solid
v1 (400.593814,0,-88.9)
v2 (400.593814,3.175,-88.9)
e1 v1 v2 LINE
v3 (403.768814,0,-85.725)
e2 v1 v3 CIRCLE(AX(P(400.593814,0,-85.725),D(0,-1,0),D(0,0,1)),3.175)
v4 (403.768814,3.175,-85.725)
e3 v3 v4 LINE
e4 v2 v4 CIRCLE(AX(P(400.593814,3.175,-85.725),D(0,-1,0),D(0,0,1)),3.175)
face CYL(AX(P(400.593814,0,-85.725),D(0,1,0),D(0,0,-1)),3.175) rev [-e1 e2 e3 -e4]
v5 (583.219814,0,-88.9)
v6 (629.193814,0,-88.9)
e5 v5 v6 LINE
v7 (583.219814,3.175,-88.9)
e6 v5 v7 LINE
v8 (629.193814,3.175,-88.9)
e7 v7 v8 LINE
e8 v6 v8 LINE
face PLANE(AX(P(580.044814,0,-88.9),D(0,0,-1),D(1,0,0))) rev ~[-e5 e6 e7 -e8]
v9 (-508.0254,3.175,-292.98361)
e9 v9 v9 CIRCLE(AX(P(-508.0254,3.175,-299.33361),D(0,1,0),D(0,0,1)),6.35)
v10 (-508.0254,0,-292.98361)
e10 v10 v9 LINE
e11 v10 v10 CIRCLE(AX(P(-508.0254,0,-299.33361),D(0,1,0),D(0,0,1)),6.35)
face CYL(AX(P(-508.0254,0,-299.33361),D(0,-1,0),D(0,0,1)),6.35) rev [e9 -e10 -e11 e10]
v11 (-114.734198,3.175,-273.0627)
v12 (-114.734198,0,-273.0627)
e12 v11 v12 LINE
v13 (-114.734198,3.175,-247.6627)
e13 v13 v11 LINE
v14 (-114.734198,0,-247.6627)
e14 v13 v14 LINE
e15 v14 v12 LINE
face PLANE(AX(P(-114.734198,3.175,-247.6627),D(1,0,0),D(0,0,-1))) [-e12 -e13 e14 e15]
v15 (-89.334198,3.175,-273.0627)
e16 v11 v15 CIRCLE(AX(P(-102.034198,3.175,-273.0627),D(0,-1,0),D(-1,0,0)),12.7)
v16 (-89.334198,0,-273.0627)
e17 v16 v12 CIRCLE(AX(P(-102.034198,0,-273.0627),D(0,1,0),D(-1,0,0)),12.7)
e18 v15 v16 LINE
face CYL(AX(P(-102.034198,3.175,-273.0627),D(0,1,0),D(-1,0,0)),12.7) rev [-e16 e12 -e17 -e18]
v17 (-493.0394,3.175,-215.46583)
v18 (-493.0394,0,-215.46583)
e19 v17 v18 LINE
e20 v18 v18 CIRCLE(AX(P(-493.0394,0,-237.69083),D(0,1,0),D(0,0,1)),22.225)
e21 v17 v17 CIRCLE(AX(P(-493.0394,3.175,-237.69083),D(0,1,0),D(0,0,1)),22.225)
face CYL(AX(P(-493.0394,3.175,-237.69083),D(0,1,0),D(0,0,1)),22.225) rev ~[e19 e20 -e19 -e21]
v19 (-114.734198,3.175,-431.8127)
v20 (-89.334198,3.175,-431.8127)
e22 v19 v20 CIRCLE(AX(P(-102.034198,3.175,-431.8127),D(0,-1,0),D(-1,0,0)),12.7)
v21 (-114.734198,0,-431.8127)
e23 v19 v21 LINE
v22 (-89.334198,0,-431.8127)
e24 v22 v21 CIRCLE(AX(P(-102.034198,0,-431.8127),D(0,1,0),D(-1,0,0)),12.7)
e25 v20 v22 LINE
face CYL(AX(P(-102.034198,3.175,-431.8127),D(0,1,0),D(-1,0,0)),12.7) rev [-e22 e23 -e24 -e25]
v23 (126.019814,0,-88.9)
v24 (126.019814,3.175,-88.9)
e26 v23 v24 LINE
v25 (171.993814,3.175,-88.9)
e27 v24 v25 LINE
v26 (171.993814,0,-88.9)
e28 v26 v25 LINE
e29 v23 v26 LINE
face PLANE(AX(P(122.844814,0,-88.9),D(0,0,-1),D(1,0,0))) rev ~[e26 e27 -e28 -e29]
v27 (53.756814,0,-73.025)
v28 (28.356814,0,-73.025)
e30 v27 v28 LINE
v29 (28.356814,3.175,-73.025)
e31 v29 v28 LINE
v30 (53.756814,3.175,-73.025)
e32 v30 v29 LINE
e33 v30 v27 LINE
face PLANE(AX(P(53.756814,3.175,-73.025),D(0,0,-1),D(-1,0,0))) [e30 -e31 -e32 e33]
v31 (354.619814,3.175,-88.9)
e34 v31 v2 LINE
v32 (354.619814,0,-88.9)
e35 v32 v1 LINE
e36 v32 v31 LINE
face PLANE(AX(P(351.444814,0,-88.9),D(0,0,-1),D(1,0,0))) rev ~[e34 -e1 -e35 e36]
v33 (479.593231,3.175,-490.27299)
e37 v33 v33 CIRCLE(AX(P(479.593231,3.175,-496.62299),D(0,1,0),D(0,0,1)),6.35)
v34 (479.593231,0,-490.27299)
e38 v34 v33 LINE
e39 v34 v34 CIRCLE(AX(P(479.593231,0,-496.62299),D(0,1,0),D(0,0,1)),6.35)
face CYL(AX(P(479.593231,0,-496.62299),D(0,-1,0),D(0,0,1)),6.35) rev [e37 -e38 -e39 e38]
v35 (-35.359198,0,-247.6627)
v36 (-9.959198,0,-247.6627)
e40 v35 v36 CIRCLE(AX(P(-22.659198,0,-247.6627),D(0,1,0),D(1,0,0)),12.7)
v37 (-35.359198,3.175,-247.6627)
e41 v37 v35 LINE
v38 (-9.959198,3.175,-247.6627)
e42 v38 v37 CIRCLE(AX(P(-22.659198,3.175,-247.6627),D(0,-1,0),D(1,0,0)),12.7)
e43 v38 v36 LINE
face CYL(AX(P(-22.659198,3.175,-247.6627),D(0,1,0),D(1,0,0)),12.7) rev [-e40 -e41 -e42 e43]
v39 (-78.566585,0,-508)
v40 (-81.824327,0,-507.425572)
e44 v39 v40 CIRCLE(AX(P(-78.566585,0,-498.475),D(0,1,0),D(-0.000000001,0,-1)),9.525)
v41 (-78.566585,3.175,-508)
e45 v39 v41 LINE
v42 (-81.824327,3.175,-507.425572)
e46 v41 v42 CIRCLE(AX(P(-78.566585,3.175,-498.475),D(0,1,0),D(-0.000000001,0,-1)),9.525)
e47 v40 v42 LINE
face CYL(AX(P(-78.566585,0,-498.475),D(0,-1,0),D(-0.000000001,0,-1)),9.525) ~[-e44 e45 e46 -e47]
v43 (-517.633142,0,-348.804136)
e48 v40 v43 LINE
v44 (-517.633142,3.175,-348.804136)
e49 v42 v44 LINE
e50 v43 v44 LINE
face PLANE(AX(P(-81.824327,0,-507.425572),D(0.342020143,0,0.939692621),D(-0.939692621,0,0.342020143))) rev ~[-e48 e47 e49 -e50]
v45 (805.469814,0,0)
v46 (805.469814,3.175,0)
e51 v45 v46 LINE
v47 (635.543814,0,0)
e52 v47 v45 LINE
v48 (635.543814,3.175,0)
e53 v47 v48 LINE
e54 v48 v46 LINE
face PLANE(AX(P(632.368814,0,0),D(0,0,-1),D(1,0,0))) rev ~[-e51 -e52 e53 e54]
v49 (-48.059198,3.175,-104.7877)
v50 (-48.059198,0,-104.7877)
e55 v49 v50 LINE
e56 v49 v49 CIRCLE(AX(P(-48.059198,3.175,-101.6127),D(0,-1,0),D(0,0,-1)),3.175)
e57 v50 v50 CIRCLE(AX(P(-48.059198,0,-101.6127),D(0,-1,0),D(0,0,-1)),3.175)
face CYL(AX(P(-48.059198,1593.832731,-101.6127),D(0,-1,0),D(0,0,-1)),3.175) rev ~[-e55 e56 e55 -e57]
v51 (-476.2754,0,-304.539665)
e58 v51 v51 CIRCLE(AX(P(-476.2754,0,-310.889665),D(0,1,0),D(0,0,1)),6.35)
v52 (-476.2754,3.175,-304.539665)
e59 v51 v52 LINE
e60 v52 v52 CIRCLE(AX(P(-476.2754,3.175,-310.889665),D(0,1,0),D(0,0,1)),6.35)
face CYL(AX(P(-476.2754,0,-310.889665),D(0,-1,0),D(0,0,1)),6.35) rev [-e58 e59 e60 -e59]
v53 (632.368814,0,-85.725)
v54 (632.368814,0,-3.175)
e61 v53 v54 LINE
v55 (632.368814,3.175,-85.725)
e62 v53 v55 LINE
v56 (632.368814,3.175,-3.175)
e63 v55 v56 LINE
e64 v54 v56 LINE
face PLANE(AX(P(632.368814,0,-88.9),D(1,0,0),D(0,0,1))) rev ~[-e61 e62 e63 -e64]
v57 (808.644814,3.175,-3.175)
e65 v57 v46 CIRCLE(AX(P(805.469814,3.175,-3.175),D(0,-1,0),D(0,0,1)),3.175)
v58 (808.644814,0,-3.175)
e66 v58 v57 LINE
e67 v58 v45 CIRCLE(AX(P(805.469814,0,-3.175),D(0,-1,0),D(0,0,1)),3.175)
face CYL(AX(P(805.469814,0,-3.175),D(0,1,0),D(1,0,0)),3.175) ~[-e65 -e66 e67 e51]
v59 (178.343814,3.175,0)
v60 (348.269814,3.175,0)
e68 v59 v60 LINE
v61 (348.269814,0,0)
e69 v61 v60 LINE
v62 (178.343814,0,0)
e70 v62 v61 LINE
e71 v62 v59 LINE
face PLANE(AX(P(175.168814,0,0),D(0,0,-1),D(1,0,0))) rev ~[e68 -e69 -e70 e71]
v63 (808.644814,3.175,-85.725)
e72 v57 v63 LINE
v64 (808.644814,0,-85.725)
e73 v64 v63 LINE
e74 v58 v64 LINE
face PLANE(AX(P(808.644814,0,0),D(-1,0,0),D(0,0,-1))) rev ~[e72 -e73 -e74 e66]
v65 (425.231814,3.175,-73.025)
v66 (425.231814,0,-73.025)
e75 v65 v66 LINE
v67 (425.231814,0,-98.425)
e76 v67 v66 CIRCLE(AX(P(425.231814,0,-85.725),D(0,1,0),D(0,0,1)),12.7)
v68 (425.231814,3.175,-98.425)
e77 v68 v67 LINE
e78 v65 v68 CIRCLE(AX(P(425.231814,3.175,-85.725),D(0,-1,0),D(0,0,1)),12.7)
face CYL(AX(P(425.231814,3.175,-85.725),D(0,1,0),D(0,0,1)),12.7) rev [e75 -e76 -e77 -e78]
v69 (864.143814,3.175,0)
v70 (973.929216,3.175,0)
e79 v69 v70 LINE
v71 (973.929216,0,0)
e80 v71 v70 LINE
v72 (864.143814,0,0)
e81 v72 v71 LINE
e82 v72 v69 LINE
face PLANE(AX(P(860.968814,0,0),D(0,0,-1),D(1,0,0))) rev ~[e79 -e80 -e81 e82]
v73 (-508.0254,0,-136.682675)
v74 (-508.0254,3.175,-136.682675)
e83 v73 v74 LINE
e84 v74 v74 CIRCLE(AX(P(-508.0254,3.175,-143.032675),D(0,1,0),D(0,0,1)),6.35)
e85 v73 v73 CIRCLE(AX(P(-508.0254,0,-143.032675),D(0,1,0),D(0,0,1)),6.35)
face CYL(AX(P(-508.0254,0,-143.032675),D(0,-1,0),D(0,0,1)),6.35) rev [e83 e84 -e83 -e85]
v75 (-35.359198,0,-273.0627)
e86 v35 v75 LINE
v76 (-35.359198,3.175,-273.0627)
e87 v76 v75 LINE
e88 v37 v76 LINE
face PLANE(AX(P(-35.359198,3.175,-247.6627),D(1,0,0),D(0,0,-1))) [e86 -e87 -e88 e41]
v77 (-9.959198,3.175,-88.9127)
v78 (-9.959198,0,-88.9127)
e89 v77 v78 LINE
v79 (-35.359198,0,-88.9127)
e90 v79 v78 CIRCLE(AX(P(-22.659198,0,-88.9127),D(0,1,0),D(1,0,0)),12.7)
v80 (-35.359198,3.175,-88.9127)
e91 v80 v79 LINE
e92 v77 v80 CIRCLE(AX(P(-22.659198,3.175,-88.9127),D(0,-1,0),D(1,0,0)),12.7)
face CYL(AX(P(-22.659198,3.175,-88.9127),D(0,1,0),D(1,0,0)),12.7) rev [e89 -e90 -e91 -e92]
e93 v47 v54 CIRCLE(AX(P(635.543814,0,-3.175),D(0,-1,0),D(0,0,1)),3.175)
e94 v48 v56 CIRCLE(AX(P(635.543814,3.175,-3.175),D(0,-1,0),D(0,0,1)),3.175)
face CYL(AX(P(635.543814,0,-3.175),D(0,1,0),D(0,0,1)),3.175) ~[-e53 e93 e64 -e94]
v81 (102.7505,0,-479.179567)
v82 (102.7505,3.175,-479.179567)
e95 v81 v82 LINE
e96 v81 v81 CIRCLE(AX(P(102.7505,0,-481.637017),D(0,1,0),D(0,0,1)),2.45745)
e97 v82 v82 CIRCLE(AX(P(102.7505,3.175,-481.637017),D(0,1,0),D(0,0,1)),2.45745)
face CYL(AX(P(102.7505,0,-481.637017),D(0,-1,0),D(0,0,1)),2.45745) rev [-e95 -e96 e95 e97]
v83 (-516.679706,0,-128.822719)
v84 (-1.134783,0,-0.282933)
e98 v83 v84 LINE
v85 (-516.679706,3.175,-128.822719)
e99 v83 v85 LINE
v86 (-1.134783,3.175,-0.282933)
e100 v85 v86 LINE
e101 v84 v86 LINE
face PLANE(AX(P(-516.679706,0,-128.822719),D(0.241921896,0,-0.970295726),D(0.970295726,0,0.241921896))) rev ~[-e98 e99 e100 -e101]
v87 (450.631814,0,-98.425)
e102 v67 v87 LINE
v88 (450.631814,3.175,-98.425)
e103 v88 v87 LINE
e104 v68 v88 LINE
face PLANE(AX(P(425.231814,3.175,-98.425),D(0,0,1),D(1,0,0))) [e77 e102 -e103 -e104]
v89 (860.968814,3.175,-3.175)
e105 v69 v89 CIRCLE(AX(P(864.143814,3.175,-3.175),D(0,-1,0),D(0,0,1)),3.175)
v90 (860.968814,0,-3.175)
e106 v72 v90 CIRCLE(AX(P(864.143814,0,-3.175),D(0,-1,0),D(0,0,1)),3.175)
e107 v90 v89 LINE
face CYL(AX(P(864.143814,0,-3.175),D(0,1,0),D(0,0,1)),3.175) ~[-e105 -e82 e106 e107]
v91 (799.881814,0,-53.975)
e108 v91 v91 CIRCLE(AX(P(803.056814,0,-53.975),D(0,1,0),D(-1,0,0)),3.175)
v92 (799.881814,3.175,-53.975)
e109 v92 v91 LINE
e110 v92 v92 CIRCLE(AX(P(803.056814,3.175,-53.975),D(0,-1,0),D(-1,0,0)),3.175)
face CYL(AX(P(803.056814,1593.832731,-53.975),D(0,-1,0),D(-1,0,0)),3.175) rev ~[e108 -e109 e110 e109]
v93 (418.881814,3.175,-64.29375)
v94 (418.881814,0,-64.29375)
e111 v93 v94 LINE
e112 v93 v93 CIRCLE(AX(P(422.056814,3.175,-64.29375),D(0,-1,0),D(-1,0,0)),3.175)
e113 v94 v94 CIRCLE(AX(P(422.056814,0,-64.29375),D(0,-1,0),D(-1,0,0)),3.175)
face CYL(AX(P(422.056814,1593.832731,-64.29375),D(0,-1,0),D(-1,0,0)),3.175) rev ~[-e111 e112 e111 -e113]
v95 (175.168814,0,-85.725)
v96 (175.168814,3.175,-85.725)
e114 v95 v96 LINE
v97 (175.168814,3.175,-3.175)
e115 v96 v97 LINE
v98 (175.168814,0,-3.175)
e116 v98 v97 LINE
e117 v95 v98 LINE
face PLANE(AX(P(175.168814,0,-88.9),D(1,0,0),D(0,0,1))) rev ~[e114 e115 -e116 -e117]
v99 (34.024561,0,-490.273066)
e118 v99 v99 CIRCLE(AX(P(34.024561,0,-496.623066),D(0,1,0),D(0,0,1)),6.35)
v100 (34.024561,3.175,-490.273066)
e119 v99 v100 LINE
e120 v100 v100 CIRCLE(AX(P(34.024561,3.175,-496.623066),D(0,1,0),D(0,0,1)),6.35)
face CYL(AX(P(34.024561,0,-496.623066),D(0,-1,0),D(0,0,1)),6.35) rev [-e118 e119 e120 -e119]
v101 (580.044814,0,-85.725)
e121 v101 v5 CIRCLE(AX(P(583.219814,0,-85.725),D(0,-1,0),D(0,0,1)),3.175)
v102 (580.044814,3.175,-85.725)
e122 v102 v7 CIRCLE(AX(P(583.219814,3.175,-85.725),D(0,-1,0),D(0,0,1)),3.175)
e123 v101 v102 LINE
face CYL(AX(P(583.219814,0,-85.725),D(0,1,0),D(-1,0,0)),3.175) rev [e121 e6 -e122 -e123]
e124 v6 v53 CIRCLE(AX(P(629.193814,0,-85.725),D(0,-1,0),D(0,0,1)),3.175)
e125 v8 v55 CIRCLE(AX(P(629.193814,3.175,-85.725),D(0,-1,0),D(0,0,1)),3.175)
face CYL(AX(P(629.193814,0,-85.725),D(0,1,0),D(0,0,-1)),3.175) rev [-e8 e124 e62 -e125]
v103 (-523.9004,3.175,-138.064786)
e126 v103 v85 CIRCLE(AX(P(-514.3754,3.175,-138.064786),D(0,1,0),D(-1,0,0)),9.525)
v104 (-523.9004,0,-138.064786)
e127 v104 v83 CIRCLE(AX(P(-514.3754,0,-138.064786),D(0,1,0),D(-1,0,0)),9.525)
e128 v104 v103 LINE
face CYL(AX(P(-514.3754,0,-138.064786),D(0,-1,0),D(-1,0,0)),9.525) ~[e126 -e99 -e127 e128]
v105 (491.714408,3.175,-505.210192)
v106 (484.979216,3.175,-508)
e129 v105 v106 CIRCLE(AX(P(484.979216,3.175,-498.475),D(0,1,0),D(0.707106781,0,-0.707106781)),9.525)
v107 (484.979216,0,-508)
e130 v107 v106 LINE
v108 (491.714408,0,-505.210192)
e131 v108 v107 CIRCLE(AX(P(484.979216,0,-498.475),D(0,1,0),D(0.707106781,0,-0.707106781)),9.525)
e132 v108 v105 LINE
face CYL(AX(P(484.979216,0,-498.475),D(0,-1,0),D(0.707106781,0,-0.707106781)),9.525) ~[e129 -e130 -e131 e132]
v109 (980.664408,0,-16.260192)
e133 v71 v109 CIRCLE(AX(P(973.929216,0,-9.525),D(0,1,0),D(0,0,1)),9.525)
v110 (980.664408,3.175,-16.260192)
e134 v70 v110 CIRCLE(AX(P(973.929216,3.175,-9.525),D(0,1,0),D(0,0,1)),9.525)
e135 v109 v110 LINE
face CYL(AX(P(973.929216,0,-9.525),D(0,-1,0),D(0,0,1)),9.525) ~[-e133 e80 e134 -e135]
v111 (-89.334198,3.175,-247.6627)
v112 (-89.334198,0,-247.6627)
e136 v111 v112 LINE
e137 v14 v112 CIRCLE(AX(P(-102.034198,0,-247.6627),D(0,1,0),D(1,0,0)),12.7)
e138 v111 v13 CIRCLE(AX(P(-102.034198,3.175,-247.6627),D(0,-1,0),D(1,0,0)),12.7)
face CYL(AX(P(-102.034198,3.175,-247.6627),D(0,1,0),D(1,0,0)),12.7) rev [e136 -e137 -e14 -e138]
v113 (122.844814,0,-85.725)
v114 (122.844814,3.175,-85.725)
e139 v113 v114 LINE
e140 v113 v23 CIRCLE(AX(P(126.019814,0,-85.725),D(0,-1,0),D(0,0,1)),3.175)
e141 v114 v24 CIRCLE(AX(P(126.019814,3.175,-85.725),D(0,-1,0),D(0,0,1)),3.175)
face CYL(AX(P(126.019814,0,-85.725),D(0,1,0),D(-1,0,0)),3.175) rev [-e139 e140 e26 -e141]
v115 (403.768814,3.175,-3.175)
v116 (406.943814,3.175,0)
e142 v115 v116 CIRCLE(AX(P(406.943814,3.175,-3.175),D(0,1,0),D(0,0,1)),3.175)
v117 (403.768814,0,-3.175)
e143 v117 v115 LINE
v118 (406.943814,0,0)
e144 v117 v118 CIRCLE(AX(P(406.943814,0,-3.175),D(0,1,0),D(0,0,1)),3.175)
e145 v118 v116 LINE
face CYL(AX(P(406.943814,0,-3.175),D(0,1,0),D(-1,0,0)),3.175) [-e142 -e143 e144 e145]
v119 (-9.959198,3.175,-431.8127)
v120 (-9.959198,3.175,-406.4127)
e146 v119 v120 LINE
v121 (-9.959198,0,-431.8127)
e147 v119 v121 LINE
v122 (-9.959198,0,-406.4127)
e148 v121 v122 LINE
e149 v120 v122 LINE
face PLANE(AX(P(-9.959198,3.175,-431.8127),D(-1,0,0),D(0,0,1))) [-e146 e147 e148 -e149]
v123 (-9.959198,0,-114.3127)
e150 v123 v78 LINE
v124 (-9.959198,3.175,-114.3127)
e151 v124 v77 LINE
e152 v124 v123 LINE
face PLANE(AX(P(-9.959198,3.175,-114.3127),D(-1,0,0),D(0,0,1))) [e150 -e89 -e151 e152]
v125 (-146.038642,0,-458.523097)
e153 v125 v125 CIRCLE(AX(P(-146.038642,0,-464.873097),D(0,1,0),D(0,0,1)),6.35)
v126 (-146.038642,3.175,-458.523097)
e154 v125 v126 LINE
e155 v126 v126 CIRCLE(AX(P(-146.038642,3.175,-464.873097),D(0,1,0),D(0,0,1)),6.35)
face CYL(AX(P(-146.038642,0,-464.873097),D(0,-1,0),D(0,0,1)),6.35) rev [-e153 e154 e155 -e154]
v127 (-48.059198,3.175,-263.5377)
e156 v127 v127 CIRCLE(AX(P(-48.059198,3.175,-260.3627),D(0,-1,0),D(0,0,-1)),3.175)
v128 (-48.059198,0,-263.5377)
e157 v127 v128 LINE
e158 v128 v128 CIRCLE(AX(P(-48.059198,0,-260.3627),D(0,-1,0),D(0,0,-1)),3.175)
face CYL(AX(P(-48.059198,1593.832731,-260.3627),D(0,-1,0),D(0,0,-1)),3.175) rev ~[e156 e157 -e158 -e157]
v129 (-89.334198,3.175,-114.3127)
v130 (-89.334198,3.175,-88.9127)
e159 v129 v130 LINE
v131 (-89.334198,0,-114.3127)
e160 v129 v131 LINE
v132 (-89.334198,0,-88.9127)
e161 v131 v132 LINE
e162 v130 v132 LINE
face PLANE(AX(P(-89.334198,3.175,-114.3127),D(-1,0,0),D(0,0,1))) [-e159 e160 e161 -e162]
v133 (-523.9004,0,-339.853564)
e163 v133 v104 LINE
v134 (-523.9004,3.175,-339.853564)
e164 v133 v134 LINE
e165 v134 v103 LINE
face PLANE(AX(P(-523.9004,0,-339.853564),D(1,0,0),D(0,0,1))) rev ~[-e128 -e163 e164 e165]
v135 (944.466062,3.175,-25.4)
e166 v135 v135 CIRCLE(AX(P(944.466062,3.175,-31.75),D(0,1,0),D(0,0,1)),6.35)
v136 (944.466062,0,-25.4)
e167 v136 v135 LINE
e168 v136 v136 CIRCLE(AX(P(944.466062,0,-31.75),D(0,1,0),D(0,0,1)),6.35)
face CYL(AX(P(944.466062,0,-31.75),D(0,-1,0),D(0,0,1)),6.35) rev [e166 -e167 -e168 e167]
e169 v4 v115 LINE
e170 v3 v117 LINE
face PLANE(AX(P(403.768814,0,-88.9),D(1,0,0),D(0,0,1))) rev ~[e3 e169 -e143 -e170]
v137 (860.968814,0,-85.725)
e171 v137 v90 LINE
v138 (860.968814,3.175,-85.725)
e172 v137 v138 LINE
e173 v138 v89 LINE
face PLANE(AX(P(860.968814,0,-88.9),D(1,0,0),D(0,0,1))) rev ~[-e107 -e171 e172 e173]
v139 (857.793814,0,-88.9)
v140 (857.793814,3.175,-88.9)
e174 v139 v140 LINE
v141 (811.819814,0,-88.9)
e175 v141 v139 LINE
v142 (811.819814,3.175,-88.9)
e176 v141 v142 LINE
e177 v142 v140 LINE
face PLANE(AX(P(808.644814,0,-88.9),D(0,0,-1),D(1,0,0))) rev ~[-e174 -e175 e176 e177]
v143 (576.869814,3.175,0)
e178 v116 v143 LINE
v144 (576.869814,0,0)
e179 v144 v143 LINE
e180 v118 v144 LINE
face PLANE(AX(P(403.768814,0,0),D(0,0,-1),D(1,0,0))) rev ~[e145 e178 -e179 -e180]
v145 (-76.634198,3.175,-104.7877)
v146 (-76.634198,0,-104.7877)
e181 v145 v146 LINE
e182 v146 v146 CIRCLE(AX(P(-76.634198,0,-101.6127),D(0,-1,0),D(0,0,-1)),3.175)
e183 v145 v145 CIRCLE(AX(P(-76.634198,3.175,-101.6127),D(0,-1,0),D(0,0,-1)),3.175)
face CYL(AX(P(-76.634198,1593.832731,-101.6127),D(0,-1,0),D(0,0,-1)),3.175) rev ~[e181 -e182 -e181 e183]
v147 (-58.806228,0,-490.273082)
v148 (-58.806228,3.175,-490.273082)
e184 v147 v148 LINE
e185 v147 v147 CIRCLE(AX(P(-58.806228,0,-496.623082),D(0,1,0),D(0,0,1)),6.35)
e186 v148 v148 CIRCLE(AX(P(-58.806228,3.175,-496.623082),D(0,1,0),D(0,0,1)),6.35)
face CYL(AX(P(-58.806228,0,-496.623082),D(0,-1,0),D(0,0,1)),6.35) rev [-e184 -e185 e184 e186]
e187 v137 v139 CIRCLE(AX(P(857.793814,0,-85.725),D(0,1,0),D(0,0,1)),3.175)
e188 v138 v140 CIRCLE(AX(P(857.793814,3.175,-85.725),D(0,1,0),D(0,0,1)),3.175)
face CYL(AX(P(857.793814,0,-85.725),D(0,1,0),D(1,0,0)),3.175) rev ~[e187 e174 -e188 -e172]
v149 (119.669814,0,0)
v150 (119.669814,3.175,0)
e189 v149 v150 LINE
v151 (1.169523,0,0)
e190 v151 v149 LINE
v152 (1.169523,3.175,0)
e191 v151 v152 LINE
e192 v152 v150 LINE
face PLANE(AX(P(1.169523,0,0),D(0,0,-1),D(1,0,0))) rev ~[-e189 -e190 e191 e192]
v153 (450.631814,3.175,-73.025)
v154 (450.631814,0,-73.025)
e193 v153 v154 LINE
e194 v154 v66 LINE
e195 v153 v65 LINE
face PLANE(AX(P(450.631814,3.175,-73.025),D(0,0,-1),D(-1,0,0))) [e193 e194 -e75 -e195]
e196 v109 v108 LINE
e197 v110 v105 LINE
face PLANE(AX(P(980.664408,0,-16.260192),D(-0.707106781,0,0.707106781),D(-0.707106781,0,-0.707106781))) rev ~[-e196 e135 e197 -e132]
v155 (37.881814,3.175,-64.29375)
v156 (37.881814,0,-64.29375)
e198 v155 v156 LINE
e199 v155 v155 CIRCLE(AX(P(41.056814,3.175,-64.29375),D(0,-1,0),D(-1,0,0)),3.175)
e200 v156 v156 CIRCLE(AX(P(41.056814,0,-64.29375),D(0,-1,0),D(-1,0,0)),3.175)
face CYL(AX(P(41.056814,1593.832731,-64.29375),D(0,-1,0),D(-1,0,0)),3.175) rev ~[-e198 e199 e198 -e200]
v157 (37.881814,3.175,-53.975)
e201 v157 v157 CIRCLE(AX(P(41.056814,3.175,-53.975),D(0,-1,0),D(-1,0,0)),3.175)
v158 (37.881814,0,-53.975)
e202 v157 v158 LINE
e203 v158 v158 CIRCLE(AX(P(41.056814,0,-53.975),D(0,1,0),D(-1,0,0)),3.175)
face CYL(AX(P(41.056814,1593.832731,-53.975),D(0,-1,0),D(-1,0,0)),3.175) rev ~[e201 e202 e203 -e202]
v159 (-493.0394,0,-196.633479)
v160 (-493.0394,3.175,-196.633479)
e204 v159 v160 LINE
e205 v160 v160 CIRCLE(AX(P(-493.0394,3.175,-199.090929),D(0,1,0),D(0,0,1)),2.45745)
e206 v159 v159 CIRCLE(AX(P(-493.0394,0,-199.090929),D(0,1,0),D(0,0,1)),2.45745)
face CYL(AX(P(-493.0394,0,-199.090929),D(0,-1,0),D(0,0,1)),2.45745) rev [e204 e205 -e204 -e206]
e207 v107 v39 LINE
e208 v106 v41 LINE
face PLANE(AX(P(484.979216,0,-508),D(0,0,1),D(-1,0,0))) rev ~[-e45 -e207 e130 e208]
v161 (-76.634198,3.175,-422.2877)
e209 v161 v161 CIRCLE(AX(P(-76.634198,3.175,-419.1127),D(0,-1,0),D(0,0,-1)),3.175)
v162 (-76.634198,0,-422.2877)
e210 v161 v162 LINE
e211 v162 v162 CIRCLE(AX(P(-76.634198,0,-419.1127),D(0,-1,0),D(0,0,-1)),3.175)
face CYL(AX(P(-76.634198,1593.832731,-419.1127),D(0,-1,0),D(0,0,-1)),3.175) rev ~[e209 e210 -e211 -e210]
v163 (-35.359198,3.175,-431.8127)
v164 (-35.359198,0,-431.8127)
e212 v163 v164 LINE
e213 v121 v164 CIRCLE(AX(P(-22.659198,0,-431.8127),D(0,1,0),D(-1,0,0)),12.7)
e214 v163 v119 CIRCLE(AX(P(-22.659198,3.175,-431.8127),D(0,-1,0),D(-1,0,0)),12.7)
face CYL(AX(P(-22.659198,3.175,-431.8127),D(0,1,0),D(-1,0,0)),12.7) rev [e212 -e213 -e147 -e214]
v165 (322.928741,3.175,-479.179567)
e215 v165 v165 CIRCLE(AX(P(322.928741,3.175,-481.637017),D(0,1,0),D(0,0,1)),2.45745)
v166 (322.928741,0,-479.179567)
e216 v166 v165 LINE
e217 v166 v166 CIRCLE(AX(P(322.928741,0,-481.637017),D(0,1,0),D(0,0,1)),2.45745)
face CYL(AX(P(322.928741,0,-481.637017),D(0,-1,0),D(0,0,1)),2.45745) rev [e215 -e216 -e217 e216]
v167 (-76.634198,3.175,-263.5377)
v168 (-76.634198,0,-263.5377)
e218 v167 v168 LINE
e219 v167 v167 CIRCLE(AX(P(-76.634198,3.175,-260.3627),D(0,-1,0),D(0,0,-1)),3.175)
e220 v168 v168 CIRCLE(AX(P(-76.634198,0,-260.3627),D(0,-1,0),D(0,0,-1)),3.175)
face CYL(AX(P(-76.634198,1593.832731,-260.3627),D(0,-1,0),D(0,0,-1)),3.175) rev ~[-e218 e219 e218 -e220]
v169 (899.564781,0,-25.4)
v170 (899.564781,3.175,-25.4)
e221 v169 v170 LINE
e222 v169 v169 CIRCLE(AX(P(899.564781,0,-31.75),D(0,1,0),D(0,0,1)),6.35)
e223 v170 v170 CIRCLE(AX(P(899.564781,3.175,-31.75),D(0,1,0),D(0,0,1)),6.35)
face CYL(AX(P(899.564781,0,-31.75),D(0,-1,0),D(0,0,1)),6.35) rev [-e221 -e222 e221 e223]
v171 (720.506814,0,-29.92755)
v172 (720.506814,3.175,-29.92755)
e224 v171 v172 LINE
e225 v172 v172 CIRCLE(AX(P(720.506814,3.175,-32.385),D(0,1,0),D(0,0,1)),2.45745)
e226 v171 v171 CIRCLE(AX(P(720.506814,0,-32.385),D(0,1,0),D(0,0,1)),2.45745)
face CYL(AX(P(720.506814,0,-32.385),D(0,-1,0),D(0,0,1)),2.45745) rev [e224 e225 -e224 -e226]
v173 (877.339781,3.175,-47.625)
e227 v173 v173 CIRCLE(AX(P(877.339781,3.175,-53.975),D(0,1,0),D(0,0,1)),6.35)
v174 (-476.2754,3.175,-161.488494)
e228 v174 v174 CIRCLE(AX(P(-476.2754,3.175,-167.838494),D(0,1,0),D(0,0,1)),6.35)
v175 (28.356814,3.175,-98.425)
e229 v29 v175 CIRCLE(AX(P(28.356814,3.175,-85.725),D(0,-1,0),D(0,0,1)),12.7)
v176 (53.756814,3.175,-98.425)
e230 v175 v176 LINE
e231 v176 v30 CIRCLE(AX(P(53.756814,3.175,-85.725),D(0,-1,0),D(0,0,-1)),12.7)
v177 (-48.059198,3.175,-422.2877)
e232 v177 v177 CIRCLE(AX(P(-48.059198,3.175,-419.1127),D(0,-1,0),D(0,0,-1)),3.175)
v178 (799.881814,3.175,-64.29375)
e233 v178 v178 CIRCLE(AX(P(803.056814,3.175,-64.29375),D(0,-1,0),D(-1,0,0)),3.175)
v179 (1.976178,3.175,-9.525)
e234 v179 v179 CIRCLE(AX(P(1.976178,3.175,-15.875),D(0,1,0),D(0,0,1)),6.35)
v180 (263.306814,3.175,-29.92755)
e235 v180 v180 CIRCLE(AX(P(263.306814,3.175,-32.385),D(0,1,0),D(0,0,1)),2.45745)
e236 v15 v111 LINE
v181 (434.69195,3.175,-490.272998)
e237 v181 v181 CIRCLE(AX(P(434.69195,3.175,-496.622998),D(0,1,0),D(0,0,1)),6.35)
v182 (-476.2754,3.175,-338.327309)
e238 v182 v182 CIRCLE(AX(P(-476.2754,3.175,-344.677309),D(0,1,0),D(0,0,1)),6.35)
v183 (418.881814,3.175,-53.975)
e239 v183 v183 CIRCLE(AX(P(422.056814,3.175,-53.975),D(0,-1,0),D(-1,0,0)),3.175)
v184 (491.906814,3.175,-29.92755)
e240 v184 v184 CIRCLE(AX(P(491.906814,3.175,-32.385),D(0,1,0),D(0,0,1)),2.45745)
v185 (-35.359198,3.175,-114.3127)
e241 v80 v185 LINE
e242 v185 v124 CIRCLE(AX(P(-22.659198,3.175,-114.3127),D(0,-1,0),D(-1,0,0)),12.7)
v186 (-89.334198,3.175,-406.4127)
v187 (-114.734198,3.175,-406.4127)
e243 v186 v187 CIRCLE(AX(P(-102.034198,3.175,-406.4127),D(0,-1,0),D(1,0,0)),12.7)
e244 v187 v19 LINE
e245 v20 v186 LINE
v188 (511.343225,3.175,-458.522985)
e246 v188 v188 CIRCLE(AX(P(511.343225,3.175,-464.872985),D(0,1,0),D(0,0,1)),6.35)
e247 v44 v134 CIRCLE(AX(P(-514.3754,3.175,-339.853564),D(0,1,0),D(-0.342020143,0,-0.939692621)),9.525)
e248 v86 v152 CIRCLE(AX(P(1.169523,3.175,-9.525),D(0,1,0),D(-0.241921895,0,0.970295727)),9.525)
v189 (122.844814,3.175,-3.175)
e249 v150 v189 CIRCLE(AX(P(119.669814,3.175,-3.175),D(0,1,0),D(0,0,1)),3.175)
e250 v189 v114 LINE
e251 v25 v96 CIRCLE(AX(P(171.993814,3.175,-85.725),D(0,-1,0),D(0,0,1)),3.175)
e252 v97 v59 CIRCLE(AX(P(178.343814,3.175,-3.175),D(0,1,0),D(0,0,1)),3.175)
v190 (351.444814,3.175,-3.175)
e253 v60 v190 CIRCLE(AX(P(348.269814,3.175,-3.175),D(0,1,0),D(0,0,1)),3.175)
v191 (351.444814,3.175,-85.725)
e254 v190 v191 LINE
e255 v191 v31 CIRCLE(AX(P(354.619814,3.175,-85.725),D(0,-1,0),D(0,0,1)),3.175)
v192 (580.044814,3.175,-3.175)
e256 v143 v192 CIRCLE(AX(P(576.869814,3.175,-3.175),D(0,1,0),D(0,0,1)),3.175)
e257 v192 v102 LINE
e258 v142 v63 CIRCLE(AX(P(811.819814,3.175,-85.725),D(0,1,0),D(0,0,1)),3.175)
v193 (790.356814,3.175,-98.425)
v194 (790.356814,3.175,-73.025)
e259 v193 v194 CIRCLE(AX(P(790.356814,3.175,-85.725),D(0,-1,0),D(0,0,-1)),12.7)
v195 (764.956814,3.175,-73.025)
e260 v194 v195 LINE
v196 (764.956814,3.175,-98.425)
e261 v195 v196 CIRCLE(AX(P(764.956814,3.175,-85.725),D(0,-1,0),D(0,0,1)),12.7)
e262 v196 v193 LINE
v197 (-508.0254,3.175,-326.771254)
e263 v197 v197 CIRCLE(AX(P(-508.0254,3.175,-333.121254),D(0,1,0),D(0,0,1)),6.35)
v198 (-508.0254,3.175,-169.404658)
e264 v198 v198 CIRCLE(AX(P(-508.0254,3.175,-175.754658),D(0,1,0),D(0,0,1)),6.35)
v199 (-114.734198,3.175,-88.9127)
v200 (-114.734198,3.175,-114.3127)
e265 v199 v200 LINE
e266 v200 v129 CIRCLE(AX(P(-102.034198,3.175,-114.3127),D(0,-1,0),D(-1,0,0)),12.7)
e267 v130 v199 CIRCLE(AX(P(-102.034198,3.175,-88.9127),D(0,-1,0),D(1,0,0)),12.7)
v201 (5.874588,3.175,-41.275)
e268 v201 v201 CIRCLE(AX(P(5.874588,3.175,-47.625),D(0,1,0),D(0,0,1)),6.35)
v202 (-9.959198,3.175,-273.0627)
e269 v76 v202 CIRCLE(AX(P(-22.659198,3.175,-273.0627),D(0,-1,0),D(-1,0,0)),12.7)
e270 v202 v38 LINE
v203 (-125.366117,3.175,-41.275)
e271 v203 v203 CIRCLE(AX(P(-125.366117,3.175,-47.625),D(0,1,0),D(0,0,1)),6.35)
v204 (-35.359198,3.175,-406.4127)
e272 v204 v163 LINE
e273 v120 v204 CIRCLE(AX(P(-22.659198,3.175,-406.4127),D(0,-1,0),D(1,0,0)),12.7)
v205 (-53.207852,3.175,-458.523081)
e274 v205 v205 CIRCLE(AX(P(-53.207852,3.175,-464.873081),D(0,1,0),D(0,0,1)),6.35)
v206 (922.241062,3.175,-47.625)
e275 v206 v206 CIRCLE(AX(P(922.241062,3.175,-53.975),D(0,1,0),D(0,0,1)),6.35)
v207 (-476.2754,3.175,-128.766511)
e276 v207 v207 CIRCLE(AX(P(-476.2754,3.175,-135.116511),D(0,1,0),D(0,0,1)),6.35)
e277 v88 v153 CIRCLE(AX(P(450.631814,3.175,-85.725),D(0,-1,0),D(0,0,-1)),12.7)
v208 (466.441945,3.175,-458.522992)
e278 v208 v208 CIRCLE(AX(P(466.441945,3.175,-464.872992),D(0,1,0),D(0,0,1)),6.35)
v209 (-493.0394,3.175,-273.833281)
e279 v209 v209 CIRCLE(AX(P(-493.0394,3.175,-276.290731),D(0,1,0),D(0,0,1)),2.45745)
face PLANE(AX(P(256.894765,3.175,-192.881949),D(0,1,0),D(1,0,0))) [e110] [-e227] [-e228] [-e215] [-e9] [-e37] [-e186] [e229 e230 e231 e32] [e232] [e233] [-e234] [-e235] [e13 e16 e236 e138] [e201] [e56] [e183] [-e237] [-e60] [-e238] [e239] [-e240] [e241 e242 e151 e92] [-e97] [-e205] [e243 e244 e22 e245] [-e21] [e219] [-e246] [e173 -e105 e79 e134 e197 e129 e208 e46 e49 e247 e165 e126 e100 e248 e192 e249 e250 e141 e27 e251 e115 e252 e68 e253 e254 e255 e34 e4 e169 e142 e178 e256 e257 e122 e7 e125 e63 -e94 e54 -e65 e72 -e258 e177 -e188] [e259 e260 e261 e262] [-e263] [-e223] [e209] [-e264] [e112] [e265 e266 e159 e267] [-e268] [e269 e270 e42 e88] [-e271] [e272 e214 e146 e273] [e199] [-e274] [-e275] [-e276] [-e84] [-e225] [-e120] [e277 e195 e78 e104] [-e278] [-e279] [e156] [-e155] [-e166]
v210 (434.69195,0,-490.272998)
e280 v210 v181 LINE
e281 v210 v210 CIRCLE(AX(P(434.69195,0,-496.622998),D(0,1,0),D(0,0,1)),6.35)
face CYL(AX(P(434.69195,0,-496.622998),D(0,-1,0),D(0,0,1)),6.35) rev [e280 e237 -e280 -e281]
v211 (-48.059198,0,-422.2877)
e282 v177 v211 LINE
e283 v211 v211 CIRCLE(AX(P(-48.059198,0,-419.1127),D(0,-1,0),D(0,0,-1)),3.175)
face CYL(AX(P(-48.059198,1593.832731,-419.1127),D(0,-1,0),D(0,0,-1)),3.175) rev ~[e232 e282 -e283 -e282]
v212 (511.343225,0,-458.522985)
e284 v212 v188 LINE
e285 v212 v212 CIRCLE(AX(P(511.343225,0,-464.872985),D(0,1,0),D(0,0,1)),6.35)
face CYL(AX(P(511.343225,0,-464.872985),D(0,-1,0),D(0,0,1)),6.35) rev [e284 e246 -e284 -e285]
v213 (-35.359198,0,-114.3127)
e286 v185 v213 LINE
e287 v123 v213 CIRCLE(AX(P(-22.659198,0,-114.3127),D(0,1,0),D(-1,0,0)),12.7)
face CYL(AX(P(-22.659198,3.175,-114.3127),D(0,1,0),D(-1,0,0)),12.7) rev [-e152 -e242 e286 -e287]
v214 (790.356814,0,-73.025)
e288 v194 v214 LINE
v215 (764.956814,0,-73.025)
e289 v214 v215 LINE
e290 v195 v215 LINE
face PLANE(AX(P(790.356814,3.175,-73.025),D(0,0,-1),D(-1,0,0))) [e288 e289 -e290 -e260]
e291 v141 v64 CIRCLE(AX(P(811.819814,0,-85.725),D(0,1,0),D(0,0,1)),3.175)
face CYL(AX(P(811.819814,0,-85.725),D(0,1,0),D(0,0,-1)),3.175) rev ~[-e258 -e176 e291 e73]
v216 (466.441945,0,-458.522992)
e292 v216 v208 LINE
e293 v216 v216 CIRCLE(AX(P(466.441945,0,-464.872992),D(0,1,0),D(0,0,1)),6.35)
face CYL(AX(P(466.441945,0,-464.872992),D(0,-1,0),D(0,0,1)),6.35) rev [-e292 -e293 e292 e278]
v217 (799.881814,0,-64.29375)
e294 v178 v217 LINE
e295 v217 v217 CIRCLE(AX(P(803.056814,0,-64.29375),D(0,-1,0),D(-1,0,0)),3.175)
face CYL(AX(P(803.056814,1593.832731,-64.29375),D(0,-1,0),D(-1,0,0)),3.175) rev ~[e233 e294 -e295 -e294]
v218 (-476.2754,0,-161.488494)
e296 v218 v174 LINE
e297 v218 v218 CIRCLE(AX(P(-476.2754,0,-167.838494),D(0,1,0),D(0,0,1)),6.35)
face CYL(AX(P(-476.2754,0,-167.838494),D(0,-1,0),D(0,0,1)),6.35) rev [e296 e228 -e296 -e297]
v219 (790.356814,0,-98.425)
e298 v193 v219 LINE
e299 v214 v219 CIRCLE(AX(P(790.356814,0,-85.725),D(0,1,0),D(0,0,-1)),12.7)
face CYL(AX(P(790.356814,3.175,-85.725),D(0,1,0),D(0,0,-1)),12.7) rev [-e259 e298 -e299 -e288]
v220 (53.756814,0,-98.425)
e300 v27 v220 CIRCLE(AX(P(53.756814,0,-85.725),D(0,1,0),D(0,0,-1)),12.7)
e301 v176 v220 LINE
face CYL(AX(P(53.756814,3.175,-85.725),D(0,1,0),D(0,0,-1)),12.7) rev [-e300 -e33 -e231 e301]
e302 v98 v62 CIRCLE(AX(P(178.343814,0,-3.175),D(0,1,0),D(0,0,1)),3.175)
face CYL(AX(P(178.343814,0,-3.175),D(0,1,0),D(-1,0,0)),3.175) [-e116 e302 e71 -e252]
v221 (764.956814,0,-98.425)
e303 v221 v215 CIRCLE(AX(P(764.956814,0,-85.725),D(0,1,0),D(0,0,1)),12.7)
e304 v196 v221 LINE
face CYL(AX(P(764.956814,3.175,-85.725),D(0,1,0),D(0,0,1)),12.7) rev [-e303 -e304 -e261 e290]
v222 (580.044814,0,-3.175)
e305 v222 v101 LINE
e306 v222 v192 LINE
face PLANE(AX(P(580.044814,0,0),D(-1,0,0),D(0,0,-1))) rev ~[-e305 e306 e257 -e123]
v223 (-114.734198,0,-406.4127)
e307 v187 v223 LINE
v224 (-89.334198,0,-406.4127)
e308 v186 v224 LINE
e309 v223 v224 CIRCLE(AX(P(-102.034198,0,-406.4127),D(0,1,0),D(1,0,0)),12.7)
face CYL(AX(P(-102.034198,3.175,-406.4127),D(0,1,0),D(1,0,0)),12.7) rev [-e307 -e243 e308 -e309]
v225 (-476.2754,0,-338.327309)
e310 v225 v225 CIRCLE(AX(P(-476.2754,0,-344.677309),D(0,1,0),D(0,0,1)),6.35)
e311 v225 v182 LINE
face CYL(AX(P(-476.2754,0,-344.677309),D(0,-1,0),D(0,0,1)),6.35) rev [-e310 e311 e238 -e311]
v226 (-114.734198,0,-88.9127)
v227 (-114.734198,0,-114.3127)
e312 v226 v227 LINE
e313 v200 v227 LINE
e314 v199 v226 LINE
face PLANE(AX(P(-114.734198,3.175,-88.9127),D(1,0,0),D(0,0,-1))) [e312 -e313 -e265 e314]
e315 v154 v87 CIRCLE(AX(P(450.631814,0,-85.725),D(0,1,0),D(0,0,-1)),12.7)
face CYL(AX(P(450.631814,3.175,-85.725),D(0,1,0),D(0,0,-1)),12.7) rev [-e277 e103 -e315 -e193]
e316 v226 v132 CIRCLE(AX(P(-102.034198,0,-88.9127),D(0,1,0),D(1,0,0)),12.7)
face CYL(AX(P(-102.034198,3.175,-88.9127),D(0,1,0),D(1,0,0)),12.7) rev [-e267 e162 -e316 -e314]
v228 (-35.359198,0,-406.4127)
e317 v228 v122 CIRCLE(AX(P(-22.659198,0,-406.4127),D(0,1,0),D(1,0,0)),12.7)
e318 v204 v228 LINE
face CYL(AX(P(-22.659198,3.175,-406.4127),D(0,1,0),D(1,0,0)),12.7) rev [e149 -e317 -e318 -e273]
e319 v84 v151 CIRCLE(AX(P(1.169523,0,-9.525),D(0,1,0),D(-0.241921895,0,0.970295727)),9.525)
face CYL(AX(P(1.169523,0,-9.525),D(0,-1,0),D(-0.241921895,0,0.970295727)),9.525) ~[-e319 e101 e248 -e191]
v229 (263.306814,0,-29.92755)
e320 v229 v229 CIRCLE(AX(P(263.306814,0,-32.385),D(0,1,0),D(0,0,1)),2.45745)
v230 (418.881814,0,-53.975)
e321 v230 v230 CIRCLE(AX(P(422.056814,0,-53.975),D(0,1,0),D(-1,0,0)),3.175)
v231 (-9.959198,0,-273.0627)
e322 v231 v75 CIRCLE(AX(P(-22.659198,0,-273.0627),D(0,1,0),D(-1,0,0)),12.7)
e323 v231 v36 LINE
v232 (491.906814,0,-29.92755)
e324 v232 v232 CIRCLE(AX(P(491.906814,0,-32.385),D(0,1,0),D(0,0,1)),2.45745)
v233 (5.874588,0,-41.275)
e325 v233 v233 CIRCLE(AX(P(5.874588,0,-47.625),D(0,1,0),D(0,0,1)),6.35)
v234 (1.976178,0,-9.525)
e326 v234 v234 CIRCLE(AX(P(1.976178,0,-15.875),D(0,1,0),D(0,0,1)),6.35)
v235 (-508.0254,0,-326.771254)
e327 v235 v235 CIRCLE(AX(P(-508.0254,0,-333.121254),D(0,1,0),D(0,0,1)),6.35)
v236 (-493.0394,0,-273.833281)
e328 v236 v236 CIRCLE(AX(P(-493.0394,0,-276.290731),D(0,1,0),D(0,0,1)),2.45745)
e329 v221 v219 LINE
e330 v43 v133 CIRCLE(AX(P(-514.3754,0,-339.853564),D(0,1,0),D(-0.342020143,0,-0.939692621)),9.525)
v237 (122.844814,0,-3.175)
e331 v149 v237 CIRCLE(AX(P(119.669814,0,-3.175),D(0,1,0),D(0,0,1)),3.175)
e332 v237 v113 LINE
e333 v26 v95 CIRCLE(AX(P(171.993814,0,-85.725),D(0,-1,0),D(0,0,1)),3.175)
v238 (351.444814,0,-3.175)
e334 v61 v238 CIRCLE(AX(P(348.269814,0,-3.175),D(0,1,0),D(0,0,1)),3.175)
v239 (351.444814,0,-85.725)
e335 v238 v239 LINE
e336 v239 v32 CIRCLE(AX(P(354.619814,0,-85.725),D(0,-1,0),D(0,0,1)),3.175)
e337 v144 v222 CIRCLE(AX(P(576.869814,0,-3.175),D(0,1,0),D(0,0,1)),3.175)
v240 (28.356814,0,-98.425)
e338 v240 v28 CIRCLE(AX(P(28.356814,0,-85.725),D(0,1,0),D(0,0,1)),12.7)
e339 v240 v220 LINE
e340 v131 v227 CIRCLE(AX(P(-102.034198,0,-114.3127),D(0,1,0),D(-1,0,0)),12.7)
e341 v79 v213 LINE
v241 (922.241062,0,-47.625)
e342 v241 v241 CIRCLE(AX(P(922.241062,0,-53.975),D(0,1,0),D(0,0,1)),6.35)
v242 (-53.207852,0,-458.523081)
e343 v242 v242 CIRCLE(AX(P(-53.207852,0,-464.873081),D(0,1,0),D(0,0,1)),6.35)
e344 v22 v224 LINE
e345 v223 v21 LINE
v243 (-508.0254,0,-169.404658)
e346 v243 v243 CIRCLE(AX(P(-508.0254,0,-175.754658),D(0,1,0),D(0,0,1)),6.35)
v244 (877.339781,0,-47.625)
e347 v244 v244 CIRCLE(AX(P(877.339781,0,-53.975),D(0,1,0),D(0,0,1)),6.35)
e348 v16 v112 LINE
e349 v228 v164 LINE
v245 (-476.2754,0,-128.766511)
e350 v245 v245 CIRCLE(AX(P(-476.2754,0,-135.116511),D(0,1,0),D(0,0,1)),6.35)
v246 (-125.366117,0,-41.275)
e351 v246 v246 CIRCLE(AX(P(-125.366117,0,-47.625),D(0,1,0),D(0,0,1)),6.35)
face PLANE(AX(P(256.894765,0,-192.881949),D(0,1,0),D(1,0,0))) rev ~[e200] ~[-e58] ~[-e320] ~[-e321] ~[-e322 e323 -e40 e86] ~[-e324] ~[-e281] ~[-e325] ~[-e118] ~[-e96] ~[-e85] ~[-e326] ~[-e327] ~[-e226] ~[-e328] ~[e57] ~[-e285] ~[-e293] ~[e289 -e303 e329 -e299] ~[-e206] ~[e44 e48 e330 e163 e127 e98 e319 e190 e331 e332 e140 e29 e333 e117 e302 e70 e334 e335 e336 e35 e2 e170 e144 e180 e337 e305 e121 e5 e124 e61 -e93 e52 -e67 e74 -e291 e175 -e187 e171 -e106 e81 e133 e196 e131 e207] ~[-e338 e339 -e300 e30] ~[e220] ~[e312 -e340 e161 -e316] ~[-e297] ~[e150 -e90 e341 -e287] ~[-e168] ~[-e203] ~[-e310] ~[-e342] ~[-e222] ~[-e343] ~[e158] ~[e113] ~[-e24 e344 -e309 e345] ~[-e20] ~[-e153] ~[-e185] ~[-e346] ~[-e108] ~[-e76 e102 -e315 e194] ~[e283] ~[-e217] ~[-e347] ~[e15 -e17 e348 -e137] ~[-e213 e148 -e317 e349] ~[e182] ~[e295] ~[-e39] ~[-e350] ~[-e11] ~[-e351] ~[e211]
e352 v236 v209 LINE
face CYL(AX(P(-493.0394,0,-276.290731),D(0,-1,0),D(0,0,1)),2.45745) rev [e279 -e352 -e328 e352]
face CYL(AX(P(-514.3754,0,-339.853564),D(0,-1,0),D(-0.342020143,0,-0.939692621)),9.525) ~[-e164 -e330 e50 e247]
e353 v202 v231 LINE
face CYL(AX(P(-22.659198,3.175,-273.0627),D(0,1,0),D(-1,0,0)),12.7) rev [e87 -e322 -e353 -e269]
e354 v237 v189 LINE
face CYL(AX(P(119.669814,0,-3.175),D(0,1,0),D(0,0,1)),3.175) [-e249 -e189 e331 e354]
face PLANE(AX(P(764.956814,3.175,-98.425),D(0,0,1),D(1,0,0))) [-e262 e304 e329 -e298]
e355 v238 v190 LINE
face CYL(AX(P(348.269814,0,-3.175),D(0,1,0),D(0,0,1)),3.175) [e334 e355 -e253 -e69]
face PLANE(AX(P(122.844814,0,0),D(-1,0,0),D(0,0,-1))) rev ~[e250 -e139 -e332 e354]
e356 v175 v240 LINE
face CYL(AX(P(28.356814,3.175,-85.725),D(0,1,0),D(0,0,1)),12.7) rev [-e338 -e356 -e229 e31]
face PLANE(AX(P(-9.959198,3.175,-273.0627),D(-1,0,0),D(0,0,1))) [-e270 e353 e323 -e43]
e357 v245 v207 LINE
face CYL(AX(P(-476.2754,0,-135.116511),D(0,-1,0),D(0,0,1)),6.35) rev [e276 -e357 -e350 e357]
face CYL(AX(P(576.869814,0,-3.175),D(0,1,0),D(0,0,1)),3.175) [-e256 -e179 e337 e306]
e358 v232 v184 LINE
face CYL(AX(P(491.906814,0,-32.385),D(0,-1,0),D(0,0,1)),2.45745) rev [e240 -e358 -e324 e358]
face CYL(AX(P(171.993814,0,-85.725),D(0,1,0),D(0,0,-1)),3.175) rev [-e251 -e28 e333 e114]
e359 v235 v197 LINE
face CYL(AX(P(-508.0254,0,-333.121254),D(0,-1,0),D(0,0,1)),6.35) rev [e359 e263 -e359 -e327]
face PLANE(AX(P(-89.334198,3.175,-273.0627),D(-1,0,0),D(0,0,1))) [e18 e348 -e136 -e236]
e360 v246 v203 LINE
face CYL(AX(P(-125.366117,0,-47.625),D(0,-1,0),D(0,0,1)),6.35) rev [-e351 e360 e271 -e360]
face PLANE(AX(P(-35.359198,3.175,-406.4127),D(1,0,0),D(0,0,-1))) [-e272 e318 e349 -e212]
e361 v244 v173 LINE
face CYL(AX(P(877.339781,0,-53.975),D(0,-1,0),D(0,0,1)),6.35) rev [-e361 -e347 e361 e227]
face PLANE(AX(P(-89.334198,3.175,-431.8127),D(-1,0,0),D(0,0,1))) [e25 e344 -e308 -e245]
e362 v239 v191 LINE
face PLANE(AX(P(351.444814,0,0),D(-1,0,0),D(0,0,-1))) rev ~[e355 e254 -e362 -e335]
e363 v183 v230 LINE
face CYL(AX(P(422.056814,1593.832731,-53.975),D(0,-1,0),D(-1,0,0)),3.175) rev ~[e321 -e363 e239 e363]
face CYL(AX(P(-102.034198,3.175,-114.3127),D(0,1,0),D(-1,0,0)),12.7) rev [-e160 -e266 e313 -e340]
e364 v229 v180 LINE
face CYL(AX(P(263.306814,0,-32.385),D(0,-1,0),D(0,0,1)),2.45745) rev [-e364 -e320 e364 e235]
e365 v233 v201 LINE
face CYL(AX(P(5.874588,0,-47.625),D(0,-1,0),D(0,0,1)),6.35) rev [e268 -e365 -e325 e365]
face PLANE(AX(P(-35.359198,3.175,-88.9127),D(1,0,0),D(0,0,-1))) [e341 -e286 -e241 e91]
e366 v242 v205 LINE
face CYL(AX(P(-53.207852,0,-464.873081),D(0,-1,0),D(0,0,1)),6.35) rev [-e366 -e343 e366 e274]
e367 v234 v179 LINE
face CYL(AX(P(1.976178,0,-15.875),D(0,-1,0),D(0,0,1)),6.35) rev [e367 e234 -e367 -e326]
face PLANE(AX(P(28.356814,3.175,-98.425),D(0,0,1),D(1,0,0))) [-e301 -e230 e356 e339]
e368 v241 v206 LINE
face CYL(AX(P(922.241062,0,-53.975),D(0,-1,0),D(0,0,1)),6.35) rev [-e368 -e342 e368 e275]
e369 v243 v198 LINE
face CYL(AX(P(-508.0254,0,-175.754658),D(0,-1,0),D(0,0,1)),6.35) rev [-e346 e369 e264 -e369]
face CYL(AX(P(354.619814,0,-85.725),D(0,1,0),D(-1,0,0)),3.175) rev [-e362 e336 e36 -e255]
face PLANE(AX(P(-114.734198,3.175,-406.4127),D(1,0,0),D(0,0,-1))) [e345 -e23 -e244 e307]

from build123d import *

# Parameters (mm, degrees)
SKETCH2_R                   = 6.35
SKETCH2_R_2                 = 2.45745
BOSS_EXTRUDE1_DEPTH         = 3.175
FILLET1_R                   = 3.175
CUT_EXTRUDE1_DEPTH          = 6.35
F_1_4_0_25_DIAMETER_HOLE1_D = 6.35
SKETCH8_R                   = 22.225
CUT_EXTRUDE2_DEPTH          = 1107.912948355
F_1_4_0_25_DIAMETER_HOLE2_D = 6.35
SKETCH12_R                  = 2.45745
SKETCH12_R_2                = 3.175
CUT_EXTRUDE3_DEPTH          = 1107.912948355


with BuildPart() as part:
    # Sketch2 → Boss-Extrude1 (new body)
    with BuildSketch(Plane(origin=(0, 0, 0), x_dir=(1, 0, 0), z_dir=(0, 1, 0))):
        with BuildLine():
            ThreePointArc((-523.9004, 138.064786013), (-521.881202428, 132.200610461), (-516.679706056, 128.82271922))
            Line((-516.679706056, 128.82271922), (-1.134783113, 0.282933207))
            ThreePointArc((-1.134783113, 0.282933207), (0.008717447, 0.070997906), (1.169522943, 0))
            Line((1.169522943, 0), (122.844814136, 0))
            Line((122.844814136, 0), (122.844814136, 88.9))
            Line((122.844814136, 88.9), (175.168814136, 88.9))
            Line((175.168814136, 88.9), (175.168814136, 0))
            Line((175.168814136, 0), (351.444814136, 0))
            Line((351.444814136, 0), (351.444814136, 88.9))
            Line((351.444814136, 88.9), (403.768814136, 88.9))
            Line((403.768814136, 88.9), (403.768814136, 0))
            Line((403.768814136, 0), (580.044814136, 0))
            Line((580.044814136, 0), (580.044814136, 88.9))
            Line((580.044814136, 88.9), (632.368814136, 88.9))
            Line((632.368814136, 88.9), (632.368814136, 0))
            Line((632.368814136, 0), (808.644814136, 0))
            Line((808.644814136, 0), (808.644814136, 88.9))
            Line((808.644814136, 88.9), (860.968814136, 88.9))
            Line((860.968814136, 88.9), (860.968814136, 0))
            Line((860.968814136, 0), (973.929215818, 0))
            ThreePointArc((973.929215818, 0), (982.729168366, 5.879940307), (980.664407909, 16.260192091))
            Line((980.664407909, 16.260192091), (491.714407909, 505.210192091))
            ThreePointArc((491.714407909, 505.210192091), (488.624275512, 507.274952547), (484.979215818, 508))
            Line((484.979215818, 508), (-78.566585303, 508))
            ThreePointArc((-78.566585303, 508), (-80.220584195, 507.855293847), (-81.824327168, 507.425572213))
            Line((-81.824327168, 507.425572213), (-517.633141865, 348.804135832))
            ThreePointArc((-517.633141865, 348.804135832), (-522.177823222, 345.316879176), (-523.9004, 339.853563619))
            Line((-523.9004, 339.853563619), (-523.9004, 138.064786013))
        make_face()
        with Locations(Location((1.976178059, 15.875, 0), (0, 0, 270))):
            Circle(SKETCH2_R, mode=Mode.SUBTRACT)
        with Locations(Location((-125.36611658, 47.625, 0), (0, 0, 270))):
            Circle(SKETCH2_R, mode=Mode.SUBTRACT)
        with Locations(Location((5.874587868, 47.625, 0), (0, 0, 270))):
            Circle(SKETCH2_R, mode=Mode.SUBTRACT)
        with Locations(Location((-476.2754, 135.116510814, 0), (0, 0, 270))):
            Circle(SKETCH2_R, mode=Mode.SUBTRACT)
        with Locations(Location((-508.0254, 143.032674904, 0), (0, 0, 270))):
            Circle(SKETCH2_R, mode=Mode.SUBTRACT)
        with Locations(Location((-476.2754, 167.838493546, 0), (0, 0, 270))):
            Circle(SKETCH2_R, mode=Mode.SUBTRACT)
        with Locations(Location((-508.0254, 175.754657636, 0), (0, 0, 270))):
            Circle(SKETCH2_R, mode=Mode.SUBTRACT)
        with Locations(Location((-493.0394, 199.090929312, 0), (0, 0, 270))):
            Circle(SKETCH2_R_2, mode=Mode.SUBTRACT)
        with Locations(Location((263.306814136, 32.385, 0), (0, 0, 270))):
            Circle(SKETCH2_R_2, mode=Mode.SUBTRACT)
        with Locations(Location((491.906814136, 32.385, 0), (0, 0, 270))):
            Circle(SKETCH2_R_2, mode=Mode.SUBTRACT)
        with Locations(Location((720.506814136, 32.385, 0), (0, 0, 270))):
            Circle(SKETCH2_R_2, mode=Mode.SUBTRACT)
        with Locations(Location((877.339781319, 53.975, 0), (0, 0, 270))):
            Circle(SKETCH2_R, mode=Mode.SUBTRACT)
        with Locations(Location((899.564781319, 31.75, 0), (0, 0, 270))):
            Circle(SKETCH2_R, mode=Mode.SUBTRACT)
        with Locations(Location((944.466061924, 31.75, 0), (0, 0, 270))):
            Circle(SKETCH2_R, mode=Mode.SUBTRACT)
        with Locations(Location((922.241061924, 53.975, 0), (0, 0, 270))):
            Circle(SKETCH2_R, mode=Mode.SUBTRACT)
        with Locations(Location((-493.0394, 276.290731215, 0), (0, 0, 270))):
            Circle(SKETCH2_R_2, mode=Mode.SUBTRACT)
        with Locations(Location((-508.0254, 299.333610137, 0), (0, 0, 270))):
            Circle(SKETCH2_R, mode=Mode.SUBTRACT)
        with Locations(Location((-476.2754, 310.889665075, 0), (0, 0, 270))):
            Circle(SKETCH2_R, mode=Mode.SUBTRACT)
        with Locations(Location((-508.0254, 333.121254413, 0), (0, 0, 270))):
            Circle(SKETCH2_R, mode=Mode.SUBTRACT)
        with Locations(Location((-476.2754, 344.677309351, 0), (0, 0, 270))):
            Circle(SKETCH2_R, mode=Mode.SUBTRACT)
        with Locations(Location((-146.038641871, 464.873096997, 0), (0, 0, 270))):
            Circle(SKETCH2_R, mode=Mode.SUBTRACT)
        with Locations(Location((-53.207852166, 464.873081124, 0), (0, 0, 270))):
            Circle(SKETCH2_R, mode=Mode.SUBTRACT)
        with Locations(Location((-58.806228375, 496.623082082, 0), (0, 0, 270))):
            Circle(SKETCH2_R, mode=Mode.SUBTRACT)
        with Locations(Location((34.024561331, 496.623066209, 0), (0, 0, 270))):
            Circle(SKETCH2_R, mode=Mode.SUBTRACT)
        with Locations(Location((102.750499745, 481.637016811, 0), (0, 0, 270))):
            Circle(SKETCH2_R_2, mode=Mode.SUBTRACT)
        with Locations(Location((322.928740552, 481.637016811, 0), (0, 0, 270))):
            Circle(SKETCH2_R_2, mode=Mode.SUBTRACT)
        with Locations(Location((466.441944838, 464.872992272, 0), (0, 0, 270))):
            Circle(SKETCH2_R, mode=Mode.SUBTRACT)
        with Locations(Location((511.343225443, 464.872984595, 0), (0, 0, 270))):
            Circle(SKETCH2_R, mode=Mode.SUBTRACT)
        with Locations(Location((434.691950267, 496.622997701, 0), (0, 0, 270))):
            Circle(SKETCH2_R, mode=Mode.SUBTRACT)
        with Locations(Location((479.593230872, 496.622990024, 0), (0, 0, 270))):
            Circle(SKETCH2_R, mode=Mode.SUBTRACT)
    extrude(amount=BOSS_EXTRUDE1_DEPTH)

    # Fillet1
    fillet1_edges = [part.edges().sort_by_distance(p)[0] for p in [
        (860.968814136, 1.5875, 0),
        (860.968814136, 1.5875, -88.9),
        (808.644814136, 1.5875, -88.9),
        (808.644814136, 1.5875, 0),
        (632.368814136, 1.5875, 0),
        (632.368814136, 1.5875, -88.9),
        (580.044814136, 1.5875, -88.9),
        (580.044814136, 1.5875, 0),
        (403.768814136, 1.5875, 0),
        (403.768814136, 1.5875, -88.9),
        (351.444814136, 1.5875, -88.9),
        (351.444814136, 1.5875, 0),
        (175.168814136, 1.5875, 0),
        (175.168814136, 1.5875, -88.9),
        (122.844814136, 1.5875, -88.9),
        (122.844814136, 1.5875, 0),
    ]]
    fillet(fillet1_edges, radius=FILLET1_R)

    # Sketch6 → Cut-Extrude1 (cut)
    with BuildSketch(Plane(origin=(0, 3.175, 0), x_dir=(1, 0, 0), z_dir=(0, 1, 0))):
        with BuildLine():
            Line((-9.959198014, 431.8127), (-9.959198014, 406.4127))
            ThreePointArc((-9.959198014, 406.4127), (-22.659198014, 393.7127), (-35.359198014, 406.4127))
            Line((-35.359198014, 406.4127), (-35.359198014, 431.8127))
            ThreePointArc((-35.359198014, 431.8127), (-22.659198014, 444.5127), (-9.959198014, 431.8127))
        make_face()
        with BuildLine():
            Line((-89.334198014, 431.8127), (-89.334198014, 406.4127))
            ThreePointArc((-89.334198014, 406.4127), (-102.034198014, 393.7127), (-114.734198014, 406.4127))
            Line((-114.734198014, 406.4127), (-114.734198014, 431.8127))
            ThreePointArc((-114.734198014, 431.8127), (-102.034198014, 444.5127), (-89.334198014, 431.8127))
        make_face()
        with BuildLine():
            Line((-9.959198014, 273.0627), (-9.959198014, 247.6627))
            ThreePointArc((-9.959198014, 247.6627), (-22.659198014, 234.9627), (-35.359198014, 247.6627))
            Line((-35.359198014, 247.6627), (-35.359198014, 273.0627))
            ThreePointArc((-35.359198014, 273.0627), (-22.659198014, 285.7627), (-9.959198014, 273.0627))
        make_face()
        with BuildLine():
            Line((-89.334198014, 273.0627), (-89.334198014, 247.6627))
            ThreePointArc((-89.334198014, 247.6627), (-102.034198014, 234.9627), (-114.734198014, 247.6627))
            Line((-114.734198014, 247.6627), (-114.734198014, 273.0627))
            ThreePointArc((-114.734198014, 273.0627), (-102.034198014, 285.7627), (-89.334198014, 273.0627))
        make_face()
        with BuildLine():
            Line((-9.959198014, 114.3127), (-9.959198014, 88.9127))
            ThreePointArc((-9.959198014, 88.9127), (-22.659198014, 76.2127), (-35.359198014, 88.9127))
            Line((-35.359198014, 88.9127), (-35.359198014, 114.3127))
            ThreePointArc((-35.359198014, 114.3127), (-22.659198014, 127.0127), (-9.959198014, 114.3127))
        make_face()
        with BuildLine():
            Line((-89.334198014, 114.3127), (-89.334198014, 88.9127))
            ThreePointArc((-89.334198014, 88.9127), (-102.034198014, 76.2127), (-114.734198014, 88.9127))
            Line((-114.734198014, 88.9127), (-114.734198014, 114.3127))
            ThreePointArc((-114.734198014, 114.3127), (-102.034198014, 127.0127), (-89.334198014, 114.3127))
        make_face()
    extrude(amount=-CUT_EXTRUDE1_DEPTH, mode=Mode.SUBTRACT)

    # 1/4 (0.25) Diameter Hole1 (through all)
    with Locations(Plane(origin=(-48.059198014, 3.175, -419.1127), x_dir=(0, 0, 1), z_dir=(0, 1, 0))):
        with Locations((0, 0), (0, -28.575), (158.75, -28.575), (158.75, 0), (317.5, 0), (317.5, -28.575)):
            Hole(F_1_4_0_25_DIAMETER_HOLE1_D / 2)

    # Sketch8 → Cut-Extrude2 (cut, through all)
    with BuildSketch(Plane(origin=(0, 3.175, 0), x_dir=(1, 0, 0), z_dir=(0, 1, 0))):
        with Locations(Location((-493.0394, 237.690830263, 0), (0, 0, 270))):
            Circle(SKETCH8_R)
    extrude(amount=-CUT_EXTRUDE2_DEPTH, mode=Mode.SUBTRACT)

    # 1/4 (0.25) Diameter Hole2 (through all)
    with Locations(Plane(origin=(0, 3.175, 0), x_dir=(1, 0, 0), z_dir=(0, 1, 0))):
        with Locations((41.056814136, 53.975), (422.056814136, 53.975), (803.056814136, 53.975), (41.056814136, 64.29375), (422.056814136, 64.29375), (803.056814136, 64.29375)):
            Hole(F_1_4_0_25_DIAMETER_HOLE2_D / 2)

    # Sketch12 → Cut-Extrude3 (cut, through all)
    with BuildSketch(Plane(origin=(0, 3.175, 0), x_dir=(1, 0, 0), z_dir=(0, 1, 0))):
        with Locations(Location((720.506814136, 32.385, 0), (0, 0, 270))):
            Circle(SKETCH12_R)
        with Locations(Location((491.906814136, 32.385, 0), (0, 0, 270))):
            Circle(SKETCH12_R)
        with Locations(Location((263.306814136, 32.385, 0), (0, 0, 270))):
            Circle(SKETCH12_R)
        with Locations(Location((41.056814136, 53.975, 0), (0, 0, 270))):
            Circle(SKETCH12_R_2)
        with Locations(Location((422.056814136, 53.975, 0), (0, 0, 270))):
            Circle(SKETCH12_R_2)
        with Locations(Location((803.056814136, 53.975, 0), (0, 0, 270))):
            Circle(SKETCH12_R_2)
        with BuildLine():
            Line((28.356814136, 98.425), (53.756814136, 98.425))
            ThreePointArc((53.756814136, 98.425), (66.456814136, 85.725), (53.756814136, 73.025))
            Line((53.756814136, 73.025), (28.356814136, 73.025))
            ThreePointArc((28.356814136, 73.025), (15.656814136, 85.725), (28.356814136, 98.425))
        make_face()
        with BuildLine():
            Line((425.231814136, 98.425), (450.631814136, 98.425))
            ThreePointArc((450.631814136, 98.425), (463.331814136, 85.725), (450.631814136, 73.025))
            Line((450.631814136, 73.025), (425.231814136, 73.025))
            ThreePointArc((425.231814136, 73.025), (412.531814136, 85.725), (425.231814136, 98.425))
        make_face()
        with BuildLine():
            Line((764.956814136, 98.425), (790.356814136, 98.425))
            ThreePointArc((790.356814136, 98.425), (803.056814136, 85.725), (790.356814136, 73.025))
            Line((790.356814136, 73.025), (764.956814136, 73.025))
            ThreePointArc((764.956814136, 73.025), (752.256814136, 85.725), (764.956814136, 98.425))
        make_face()
    extrude(amount=-CUT_EXTRUDE3_DEPTH, mode=Mode.SUBTRACT)


solid = part.part
